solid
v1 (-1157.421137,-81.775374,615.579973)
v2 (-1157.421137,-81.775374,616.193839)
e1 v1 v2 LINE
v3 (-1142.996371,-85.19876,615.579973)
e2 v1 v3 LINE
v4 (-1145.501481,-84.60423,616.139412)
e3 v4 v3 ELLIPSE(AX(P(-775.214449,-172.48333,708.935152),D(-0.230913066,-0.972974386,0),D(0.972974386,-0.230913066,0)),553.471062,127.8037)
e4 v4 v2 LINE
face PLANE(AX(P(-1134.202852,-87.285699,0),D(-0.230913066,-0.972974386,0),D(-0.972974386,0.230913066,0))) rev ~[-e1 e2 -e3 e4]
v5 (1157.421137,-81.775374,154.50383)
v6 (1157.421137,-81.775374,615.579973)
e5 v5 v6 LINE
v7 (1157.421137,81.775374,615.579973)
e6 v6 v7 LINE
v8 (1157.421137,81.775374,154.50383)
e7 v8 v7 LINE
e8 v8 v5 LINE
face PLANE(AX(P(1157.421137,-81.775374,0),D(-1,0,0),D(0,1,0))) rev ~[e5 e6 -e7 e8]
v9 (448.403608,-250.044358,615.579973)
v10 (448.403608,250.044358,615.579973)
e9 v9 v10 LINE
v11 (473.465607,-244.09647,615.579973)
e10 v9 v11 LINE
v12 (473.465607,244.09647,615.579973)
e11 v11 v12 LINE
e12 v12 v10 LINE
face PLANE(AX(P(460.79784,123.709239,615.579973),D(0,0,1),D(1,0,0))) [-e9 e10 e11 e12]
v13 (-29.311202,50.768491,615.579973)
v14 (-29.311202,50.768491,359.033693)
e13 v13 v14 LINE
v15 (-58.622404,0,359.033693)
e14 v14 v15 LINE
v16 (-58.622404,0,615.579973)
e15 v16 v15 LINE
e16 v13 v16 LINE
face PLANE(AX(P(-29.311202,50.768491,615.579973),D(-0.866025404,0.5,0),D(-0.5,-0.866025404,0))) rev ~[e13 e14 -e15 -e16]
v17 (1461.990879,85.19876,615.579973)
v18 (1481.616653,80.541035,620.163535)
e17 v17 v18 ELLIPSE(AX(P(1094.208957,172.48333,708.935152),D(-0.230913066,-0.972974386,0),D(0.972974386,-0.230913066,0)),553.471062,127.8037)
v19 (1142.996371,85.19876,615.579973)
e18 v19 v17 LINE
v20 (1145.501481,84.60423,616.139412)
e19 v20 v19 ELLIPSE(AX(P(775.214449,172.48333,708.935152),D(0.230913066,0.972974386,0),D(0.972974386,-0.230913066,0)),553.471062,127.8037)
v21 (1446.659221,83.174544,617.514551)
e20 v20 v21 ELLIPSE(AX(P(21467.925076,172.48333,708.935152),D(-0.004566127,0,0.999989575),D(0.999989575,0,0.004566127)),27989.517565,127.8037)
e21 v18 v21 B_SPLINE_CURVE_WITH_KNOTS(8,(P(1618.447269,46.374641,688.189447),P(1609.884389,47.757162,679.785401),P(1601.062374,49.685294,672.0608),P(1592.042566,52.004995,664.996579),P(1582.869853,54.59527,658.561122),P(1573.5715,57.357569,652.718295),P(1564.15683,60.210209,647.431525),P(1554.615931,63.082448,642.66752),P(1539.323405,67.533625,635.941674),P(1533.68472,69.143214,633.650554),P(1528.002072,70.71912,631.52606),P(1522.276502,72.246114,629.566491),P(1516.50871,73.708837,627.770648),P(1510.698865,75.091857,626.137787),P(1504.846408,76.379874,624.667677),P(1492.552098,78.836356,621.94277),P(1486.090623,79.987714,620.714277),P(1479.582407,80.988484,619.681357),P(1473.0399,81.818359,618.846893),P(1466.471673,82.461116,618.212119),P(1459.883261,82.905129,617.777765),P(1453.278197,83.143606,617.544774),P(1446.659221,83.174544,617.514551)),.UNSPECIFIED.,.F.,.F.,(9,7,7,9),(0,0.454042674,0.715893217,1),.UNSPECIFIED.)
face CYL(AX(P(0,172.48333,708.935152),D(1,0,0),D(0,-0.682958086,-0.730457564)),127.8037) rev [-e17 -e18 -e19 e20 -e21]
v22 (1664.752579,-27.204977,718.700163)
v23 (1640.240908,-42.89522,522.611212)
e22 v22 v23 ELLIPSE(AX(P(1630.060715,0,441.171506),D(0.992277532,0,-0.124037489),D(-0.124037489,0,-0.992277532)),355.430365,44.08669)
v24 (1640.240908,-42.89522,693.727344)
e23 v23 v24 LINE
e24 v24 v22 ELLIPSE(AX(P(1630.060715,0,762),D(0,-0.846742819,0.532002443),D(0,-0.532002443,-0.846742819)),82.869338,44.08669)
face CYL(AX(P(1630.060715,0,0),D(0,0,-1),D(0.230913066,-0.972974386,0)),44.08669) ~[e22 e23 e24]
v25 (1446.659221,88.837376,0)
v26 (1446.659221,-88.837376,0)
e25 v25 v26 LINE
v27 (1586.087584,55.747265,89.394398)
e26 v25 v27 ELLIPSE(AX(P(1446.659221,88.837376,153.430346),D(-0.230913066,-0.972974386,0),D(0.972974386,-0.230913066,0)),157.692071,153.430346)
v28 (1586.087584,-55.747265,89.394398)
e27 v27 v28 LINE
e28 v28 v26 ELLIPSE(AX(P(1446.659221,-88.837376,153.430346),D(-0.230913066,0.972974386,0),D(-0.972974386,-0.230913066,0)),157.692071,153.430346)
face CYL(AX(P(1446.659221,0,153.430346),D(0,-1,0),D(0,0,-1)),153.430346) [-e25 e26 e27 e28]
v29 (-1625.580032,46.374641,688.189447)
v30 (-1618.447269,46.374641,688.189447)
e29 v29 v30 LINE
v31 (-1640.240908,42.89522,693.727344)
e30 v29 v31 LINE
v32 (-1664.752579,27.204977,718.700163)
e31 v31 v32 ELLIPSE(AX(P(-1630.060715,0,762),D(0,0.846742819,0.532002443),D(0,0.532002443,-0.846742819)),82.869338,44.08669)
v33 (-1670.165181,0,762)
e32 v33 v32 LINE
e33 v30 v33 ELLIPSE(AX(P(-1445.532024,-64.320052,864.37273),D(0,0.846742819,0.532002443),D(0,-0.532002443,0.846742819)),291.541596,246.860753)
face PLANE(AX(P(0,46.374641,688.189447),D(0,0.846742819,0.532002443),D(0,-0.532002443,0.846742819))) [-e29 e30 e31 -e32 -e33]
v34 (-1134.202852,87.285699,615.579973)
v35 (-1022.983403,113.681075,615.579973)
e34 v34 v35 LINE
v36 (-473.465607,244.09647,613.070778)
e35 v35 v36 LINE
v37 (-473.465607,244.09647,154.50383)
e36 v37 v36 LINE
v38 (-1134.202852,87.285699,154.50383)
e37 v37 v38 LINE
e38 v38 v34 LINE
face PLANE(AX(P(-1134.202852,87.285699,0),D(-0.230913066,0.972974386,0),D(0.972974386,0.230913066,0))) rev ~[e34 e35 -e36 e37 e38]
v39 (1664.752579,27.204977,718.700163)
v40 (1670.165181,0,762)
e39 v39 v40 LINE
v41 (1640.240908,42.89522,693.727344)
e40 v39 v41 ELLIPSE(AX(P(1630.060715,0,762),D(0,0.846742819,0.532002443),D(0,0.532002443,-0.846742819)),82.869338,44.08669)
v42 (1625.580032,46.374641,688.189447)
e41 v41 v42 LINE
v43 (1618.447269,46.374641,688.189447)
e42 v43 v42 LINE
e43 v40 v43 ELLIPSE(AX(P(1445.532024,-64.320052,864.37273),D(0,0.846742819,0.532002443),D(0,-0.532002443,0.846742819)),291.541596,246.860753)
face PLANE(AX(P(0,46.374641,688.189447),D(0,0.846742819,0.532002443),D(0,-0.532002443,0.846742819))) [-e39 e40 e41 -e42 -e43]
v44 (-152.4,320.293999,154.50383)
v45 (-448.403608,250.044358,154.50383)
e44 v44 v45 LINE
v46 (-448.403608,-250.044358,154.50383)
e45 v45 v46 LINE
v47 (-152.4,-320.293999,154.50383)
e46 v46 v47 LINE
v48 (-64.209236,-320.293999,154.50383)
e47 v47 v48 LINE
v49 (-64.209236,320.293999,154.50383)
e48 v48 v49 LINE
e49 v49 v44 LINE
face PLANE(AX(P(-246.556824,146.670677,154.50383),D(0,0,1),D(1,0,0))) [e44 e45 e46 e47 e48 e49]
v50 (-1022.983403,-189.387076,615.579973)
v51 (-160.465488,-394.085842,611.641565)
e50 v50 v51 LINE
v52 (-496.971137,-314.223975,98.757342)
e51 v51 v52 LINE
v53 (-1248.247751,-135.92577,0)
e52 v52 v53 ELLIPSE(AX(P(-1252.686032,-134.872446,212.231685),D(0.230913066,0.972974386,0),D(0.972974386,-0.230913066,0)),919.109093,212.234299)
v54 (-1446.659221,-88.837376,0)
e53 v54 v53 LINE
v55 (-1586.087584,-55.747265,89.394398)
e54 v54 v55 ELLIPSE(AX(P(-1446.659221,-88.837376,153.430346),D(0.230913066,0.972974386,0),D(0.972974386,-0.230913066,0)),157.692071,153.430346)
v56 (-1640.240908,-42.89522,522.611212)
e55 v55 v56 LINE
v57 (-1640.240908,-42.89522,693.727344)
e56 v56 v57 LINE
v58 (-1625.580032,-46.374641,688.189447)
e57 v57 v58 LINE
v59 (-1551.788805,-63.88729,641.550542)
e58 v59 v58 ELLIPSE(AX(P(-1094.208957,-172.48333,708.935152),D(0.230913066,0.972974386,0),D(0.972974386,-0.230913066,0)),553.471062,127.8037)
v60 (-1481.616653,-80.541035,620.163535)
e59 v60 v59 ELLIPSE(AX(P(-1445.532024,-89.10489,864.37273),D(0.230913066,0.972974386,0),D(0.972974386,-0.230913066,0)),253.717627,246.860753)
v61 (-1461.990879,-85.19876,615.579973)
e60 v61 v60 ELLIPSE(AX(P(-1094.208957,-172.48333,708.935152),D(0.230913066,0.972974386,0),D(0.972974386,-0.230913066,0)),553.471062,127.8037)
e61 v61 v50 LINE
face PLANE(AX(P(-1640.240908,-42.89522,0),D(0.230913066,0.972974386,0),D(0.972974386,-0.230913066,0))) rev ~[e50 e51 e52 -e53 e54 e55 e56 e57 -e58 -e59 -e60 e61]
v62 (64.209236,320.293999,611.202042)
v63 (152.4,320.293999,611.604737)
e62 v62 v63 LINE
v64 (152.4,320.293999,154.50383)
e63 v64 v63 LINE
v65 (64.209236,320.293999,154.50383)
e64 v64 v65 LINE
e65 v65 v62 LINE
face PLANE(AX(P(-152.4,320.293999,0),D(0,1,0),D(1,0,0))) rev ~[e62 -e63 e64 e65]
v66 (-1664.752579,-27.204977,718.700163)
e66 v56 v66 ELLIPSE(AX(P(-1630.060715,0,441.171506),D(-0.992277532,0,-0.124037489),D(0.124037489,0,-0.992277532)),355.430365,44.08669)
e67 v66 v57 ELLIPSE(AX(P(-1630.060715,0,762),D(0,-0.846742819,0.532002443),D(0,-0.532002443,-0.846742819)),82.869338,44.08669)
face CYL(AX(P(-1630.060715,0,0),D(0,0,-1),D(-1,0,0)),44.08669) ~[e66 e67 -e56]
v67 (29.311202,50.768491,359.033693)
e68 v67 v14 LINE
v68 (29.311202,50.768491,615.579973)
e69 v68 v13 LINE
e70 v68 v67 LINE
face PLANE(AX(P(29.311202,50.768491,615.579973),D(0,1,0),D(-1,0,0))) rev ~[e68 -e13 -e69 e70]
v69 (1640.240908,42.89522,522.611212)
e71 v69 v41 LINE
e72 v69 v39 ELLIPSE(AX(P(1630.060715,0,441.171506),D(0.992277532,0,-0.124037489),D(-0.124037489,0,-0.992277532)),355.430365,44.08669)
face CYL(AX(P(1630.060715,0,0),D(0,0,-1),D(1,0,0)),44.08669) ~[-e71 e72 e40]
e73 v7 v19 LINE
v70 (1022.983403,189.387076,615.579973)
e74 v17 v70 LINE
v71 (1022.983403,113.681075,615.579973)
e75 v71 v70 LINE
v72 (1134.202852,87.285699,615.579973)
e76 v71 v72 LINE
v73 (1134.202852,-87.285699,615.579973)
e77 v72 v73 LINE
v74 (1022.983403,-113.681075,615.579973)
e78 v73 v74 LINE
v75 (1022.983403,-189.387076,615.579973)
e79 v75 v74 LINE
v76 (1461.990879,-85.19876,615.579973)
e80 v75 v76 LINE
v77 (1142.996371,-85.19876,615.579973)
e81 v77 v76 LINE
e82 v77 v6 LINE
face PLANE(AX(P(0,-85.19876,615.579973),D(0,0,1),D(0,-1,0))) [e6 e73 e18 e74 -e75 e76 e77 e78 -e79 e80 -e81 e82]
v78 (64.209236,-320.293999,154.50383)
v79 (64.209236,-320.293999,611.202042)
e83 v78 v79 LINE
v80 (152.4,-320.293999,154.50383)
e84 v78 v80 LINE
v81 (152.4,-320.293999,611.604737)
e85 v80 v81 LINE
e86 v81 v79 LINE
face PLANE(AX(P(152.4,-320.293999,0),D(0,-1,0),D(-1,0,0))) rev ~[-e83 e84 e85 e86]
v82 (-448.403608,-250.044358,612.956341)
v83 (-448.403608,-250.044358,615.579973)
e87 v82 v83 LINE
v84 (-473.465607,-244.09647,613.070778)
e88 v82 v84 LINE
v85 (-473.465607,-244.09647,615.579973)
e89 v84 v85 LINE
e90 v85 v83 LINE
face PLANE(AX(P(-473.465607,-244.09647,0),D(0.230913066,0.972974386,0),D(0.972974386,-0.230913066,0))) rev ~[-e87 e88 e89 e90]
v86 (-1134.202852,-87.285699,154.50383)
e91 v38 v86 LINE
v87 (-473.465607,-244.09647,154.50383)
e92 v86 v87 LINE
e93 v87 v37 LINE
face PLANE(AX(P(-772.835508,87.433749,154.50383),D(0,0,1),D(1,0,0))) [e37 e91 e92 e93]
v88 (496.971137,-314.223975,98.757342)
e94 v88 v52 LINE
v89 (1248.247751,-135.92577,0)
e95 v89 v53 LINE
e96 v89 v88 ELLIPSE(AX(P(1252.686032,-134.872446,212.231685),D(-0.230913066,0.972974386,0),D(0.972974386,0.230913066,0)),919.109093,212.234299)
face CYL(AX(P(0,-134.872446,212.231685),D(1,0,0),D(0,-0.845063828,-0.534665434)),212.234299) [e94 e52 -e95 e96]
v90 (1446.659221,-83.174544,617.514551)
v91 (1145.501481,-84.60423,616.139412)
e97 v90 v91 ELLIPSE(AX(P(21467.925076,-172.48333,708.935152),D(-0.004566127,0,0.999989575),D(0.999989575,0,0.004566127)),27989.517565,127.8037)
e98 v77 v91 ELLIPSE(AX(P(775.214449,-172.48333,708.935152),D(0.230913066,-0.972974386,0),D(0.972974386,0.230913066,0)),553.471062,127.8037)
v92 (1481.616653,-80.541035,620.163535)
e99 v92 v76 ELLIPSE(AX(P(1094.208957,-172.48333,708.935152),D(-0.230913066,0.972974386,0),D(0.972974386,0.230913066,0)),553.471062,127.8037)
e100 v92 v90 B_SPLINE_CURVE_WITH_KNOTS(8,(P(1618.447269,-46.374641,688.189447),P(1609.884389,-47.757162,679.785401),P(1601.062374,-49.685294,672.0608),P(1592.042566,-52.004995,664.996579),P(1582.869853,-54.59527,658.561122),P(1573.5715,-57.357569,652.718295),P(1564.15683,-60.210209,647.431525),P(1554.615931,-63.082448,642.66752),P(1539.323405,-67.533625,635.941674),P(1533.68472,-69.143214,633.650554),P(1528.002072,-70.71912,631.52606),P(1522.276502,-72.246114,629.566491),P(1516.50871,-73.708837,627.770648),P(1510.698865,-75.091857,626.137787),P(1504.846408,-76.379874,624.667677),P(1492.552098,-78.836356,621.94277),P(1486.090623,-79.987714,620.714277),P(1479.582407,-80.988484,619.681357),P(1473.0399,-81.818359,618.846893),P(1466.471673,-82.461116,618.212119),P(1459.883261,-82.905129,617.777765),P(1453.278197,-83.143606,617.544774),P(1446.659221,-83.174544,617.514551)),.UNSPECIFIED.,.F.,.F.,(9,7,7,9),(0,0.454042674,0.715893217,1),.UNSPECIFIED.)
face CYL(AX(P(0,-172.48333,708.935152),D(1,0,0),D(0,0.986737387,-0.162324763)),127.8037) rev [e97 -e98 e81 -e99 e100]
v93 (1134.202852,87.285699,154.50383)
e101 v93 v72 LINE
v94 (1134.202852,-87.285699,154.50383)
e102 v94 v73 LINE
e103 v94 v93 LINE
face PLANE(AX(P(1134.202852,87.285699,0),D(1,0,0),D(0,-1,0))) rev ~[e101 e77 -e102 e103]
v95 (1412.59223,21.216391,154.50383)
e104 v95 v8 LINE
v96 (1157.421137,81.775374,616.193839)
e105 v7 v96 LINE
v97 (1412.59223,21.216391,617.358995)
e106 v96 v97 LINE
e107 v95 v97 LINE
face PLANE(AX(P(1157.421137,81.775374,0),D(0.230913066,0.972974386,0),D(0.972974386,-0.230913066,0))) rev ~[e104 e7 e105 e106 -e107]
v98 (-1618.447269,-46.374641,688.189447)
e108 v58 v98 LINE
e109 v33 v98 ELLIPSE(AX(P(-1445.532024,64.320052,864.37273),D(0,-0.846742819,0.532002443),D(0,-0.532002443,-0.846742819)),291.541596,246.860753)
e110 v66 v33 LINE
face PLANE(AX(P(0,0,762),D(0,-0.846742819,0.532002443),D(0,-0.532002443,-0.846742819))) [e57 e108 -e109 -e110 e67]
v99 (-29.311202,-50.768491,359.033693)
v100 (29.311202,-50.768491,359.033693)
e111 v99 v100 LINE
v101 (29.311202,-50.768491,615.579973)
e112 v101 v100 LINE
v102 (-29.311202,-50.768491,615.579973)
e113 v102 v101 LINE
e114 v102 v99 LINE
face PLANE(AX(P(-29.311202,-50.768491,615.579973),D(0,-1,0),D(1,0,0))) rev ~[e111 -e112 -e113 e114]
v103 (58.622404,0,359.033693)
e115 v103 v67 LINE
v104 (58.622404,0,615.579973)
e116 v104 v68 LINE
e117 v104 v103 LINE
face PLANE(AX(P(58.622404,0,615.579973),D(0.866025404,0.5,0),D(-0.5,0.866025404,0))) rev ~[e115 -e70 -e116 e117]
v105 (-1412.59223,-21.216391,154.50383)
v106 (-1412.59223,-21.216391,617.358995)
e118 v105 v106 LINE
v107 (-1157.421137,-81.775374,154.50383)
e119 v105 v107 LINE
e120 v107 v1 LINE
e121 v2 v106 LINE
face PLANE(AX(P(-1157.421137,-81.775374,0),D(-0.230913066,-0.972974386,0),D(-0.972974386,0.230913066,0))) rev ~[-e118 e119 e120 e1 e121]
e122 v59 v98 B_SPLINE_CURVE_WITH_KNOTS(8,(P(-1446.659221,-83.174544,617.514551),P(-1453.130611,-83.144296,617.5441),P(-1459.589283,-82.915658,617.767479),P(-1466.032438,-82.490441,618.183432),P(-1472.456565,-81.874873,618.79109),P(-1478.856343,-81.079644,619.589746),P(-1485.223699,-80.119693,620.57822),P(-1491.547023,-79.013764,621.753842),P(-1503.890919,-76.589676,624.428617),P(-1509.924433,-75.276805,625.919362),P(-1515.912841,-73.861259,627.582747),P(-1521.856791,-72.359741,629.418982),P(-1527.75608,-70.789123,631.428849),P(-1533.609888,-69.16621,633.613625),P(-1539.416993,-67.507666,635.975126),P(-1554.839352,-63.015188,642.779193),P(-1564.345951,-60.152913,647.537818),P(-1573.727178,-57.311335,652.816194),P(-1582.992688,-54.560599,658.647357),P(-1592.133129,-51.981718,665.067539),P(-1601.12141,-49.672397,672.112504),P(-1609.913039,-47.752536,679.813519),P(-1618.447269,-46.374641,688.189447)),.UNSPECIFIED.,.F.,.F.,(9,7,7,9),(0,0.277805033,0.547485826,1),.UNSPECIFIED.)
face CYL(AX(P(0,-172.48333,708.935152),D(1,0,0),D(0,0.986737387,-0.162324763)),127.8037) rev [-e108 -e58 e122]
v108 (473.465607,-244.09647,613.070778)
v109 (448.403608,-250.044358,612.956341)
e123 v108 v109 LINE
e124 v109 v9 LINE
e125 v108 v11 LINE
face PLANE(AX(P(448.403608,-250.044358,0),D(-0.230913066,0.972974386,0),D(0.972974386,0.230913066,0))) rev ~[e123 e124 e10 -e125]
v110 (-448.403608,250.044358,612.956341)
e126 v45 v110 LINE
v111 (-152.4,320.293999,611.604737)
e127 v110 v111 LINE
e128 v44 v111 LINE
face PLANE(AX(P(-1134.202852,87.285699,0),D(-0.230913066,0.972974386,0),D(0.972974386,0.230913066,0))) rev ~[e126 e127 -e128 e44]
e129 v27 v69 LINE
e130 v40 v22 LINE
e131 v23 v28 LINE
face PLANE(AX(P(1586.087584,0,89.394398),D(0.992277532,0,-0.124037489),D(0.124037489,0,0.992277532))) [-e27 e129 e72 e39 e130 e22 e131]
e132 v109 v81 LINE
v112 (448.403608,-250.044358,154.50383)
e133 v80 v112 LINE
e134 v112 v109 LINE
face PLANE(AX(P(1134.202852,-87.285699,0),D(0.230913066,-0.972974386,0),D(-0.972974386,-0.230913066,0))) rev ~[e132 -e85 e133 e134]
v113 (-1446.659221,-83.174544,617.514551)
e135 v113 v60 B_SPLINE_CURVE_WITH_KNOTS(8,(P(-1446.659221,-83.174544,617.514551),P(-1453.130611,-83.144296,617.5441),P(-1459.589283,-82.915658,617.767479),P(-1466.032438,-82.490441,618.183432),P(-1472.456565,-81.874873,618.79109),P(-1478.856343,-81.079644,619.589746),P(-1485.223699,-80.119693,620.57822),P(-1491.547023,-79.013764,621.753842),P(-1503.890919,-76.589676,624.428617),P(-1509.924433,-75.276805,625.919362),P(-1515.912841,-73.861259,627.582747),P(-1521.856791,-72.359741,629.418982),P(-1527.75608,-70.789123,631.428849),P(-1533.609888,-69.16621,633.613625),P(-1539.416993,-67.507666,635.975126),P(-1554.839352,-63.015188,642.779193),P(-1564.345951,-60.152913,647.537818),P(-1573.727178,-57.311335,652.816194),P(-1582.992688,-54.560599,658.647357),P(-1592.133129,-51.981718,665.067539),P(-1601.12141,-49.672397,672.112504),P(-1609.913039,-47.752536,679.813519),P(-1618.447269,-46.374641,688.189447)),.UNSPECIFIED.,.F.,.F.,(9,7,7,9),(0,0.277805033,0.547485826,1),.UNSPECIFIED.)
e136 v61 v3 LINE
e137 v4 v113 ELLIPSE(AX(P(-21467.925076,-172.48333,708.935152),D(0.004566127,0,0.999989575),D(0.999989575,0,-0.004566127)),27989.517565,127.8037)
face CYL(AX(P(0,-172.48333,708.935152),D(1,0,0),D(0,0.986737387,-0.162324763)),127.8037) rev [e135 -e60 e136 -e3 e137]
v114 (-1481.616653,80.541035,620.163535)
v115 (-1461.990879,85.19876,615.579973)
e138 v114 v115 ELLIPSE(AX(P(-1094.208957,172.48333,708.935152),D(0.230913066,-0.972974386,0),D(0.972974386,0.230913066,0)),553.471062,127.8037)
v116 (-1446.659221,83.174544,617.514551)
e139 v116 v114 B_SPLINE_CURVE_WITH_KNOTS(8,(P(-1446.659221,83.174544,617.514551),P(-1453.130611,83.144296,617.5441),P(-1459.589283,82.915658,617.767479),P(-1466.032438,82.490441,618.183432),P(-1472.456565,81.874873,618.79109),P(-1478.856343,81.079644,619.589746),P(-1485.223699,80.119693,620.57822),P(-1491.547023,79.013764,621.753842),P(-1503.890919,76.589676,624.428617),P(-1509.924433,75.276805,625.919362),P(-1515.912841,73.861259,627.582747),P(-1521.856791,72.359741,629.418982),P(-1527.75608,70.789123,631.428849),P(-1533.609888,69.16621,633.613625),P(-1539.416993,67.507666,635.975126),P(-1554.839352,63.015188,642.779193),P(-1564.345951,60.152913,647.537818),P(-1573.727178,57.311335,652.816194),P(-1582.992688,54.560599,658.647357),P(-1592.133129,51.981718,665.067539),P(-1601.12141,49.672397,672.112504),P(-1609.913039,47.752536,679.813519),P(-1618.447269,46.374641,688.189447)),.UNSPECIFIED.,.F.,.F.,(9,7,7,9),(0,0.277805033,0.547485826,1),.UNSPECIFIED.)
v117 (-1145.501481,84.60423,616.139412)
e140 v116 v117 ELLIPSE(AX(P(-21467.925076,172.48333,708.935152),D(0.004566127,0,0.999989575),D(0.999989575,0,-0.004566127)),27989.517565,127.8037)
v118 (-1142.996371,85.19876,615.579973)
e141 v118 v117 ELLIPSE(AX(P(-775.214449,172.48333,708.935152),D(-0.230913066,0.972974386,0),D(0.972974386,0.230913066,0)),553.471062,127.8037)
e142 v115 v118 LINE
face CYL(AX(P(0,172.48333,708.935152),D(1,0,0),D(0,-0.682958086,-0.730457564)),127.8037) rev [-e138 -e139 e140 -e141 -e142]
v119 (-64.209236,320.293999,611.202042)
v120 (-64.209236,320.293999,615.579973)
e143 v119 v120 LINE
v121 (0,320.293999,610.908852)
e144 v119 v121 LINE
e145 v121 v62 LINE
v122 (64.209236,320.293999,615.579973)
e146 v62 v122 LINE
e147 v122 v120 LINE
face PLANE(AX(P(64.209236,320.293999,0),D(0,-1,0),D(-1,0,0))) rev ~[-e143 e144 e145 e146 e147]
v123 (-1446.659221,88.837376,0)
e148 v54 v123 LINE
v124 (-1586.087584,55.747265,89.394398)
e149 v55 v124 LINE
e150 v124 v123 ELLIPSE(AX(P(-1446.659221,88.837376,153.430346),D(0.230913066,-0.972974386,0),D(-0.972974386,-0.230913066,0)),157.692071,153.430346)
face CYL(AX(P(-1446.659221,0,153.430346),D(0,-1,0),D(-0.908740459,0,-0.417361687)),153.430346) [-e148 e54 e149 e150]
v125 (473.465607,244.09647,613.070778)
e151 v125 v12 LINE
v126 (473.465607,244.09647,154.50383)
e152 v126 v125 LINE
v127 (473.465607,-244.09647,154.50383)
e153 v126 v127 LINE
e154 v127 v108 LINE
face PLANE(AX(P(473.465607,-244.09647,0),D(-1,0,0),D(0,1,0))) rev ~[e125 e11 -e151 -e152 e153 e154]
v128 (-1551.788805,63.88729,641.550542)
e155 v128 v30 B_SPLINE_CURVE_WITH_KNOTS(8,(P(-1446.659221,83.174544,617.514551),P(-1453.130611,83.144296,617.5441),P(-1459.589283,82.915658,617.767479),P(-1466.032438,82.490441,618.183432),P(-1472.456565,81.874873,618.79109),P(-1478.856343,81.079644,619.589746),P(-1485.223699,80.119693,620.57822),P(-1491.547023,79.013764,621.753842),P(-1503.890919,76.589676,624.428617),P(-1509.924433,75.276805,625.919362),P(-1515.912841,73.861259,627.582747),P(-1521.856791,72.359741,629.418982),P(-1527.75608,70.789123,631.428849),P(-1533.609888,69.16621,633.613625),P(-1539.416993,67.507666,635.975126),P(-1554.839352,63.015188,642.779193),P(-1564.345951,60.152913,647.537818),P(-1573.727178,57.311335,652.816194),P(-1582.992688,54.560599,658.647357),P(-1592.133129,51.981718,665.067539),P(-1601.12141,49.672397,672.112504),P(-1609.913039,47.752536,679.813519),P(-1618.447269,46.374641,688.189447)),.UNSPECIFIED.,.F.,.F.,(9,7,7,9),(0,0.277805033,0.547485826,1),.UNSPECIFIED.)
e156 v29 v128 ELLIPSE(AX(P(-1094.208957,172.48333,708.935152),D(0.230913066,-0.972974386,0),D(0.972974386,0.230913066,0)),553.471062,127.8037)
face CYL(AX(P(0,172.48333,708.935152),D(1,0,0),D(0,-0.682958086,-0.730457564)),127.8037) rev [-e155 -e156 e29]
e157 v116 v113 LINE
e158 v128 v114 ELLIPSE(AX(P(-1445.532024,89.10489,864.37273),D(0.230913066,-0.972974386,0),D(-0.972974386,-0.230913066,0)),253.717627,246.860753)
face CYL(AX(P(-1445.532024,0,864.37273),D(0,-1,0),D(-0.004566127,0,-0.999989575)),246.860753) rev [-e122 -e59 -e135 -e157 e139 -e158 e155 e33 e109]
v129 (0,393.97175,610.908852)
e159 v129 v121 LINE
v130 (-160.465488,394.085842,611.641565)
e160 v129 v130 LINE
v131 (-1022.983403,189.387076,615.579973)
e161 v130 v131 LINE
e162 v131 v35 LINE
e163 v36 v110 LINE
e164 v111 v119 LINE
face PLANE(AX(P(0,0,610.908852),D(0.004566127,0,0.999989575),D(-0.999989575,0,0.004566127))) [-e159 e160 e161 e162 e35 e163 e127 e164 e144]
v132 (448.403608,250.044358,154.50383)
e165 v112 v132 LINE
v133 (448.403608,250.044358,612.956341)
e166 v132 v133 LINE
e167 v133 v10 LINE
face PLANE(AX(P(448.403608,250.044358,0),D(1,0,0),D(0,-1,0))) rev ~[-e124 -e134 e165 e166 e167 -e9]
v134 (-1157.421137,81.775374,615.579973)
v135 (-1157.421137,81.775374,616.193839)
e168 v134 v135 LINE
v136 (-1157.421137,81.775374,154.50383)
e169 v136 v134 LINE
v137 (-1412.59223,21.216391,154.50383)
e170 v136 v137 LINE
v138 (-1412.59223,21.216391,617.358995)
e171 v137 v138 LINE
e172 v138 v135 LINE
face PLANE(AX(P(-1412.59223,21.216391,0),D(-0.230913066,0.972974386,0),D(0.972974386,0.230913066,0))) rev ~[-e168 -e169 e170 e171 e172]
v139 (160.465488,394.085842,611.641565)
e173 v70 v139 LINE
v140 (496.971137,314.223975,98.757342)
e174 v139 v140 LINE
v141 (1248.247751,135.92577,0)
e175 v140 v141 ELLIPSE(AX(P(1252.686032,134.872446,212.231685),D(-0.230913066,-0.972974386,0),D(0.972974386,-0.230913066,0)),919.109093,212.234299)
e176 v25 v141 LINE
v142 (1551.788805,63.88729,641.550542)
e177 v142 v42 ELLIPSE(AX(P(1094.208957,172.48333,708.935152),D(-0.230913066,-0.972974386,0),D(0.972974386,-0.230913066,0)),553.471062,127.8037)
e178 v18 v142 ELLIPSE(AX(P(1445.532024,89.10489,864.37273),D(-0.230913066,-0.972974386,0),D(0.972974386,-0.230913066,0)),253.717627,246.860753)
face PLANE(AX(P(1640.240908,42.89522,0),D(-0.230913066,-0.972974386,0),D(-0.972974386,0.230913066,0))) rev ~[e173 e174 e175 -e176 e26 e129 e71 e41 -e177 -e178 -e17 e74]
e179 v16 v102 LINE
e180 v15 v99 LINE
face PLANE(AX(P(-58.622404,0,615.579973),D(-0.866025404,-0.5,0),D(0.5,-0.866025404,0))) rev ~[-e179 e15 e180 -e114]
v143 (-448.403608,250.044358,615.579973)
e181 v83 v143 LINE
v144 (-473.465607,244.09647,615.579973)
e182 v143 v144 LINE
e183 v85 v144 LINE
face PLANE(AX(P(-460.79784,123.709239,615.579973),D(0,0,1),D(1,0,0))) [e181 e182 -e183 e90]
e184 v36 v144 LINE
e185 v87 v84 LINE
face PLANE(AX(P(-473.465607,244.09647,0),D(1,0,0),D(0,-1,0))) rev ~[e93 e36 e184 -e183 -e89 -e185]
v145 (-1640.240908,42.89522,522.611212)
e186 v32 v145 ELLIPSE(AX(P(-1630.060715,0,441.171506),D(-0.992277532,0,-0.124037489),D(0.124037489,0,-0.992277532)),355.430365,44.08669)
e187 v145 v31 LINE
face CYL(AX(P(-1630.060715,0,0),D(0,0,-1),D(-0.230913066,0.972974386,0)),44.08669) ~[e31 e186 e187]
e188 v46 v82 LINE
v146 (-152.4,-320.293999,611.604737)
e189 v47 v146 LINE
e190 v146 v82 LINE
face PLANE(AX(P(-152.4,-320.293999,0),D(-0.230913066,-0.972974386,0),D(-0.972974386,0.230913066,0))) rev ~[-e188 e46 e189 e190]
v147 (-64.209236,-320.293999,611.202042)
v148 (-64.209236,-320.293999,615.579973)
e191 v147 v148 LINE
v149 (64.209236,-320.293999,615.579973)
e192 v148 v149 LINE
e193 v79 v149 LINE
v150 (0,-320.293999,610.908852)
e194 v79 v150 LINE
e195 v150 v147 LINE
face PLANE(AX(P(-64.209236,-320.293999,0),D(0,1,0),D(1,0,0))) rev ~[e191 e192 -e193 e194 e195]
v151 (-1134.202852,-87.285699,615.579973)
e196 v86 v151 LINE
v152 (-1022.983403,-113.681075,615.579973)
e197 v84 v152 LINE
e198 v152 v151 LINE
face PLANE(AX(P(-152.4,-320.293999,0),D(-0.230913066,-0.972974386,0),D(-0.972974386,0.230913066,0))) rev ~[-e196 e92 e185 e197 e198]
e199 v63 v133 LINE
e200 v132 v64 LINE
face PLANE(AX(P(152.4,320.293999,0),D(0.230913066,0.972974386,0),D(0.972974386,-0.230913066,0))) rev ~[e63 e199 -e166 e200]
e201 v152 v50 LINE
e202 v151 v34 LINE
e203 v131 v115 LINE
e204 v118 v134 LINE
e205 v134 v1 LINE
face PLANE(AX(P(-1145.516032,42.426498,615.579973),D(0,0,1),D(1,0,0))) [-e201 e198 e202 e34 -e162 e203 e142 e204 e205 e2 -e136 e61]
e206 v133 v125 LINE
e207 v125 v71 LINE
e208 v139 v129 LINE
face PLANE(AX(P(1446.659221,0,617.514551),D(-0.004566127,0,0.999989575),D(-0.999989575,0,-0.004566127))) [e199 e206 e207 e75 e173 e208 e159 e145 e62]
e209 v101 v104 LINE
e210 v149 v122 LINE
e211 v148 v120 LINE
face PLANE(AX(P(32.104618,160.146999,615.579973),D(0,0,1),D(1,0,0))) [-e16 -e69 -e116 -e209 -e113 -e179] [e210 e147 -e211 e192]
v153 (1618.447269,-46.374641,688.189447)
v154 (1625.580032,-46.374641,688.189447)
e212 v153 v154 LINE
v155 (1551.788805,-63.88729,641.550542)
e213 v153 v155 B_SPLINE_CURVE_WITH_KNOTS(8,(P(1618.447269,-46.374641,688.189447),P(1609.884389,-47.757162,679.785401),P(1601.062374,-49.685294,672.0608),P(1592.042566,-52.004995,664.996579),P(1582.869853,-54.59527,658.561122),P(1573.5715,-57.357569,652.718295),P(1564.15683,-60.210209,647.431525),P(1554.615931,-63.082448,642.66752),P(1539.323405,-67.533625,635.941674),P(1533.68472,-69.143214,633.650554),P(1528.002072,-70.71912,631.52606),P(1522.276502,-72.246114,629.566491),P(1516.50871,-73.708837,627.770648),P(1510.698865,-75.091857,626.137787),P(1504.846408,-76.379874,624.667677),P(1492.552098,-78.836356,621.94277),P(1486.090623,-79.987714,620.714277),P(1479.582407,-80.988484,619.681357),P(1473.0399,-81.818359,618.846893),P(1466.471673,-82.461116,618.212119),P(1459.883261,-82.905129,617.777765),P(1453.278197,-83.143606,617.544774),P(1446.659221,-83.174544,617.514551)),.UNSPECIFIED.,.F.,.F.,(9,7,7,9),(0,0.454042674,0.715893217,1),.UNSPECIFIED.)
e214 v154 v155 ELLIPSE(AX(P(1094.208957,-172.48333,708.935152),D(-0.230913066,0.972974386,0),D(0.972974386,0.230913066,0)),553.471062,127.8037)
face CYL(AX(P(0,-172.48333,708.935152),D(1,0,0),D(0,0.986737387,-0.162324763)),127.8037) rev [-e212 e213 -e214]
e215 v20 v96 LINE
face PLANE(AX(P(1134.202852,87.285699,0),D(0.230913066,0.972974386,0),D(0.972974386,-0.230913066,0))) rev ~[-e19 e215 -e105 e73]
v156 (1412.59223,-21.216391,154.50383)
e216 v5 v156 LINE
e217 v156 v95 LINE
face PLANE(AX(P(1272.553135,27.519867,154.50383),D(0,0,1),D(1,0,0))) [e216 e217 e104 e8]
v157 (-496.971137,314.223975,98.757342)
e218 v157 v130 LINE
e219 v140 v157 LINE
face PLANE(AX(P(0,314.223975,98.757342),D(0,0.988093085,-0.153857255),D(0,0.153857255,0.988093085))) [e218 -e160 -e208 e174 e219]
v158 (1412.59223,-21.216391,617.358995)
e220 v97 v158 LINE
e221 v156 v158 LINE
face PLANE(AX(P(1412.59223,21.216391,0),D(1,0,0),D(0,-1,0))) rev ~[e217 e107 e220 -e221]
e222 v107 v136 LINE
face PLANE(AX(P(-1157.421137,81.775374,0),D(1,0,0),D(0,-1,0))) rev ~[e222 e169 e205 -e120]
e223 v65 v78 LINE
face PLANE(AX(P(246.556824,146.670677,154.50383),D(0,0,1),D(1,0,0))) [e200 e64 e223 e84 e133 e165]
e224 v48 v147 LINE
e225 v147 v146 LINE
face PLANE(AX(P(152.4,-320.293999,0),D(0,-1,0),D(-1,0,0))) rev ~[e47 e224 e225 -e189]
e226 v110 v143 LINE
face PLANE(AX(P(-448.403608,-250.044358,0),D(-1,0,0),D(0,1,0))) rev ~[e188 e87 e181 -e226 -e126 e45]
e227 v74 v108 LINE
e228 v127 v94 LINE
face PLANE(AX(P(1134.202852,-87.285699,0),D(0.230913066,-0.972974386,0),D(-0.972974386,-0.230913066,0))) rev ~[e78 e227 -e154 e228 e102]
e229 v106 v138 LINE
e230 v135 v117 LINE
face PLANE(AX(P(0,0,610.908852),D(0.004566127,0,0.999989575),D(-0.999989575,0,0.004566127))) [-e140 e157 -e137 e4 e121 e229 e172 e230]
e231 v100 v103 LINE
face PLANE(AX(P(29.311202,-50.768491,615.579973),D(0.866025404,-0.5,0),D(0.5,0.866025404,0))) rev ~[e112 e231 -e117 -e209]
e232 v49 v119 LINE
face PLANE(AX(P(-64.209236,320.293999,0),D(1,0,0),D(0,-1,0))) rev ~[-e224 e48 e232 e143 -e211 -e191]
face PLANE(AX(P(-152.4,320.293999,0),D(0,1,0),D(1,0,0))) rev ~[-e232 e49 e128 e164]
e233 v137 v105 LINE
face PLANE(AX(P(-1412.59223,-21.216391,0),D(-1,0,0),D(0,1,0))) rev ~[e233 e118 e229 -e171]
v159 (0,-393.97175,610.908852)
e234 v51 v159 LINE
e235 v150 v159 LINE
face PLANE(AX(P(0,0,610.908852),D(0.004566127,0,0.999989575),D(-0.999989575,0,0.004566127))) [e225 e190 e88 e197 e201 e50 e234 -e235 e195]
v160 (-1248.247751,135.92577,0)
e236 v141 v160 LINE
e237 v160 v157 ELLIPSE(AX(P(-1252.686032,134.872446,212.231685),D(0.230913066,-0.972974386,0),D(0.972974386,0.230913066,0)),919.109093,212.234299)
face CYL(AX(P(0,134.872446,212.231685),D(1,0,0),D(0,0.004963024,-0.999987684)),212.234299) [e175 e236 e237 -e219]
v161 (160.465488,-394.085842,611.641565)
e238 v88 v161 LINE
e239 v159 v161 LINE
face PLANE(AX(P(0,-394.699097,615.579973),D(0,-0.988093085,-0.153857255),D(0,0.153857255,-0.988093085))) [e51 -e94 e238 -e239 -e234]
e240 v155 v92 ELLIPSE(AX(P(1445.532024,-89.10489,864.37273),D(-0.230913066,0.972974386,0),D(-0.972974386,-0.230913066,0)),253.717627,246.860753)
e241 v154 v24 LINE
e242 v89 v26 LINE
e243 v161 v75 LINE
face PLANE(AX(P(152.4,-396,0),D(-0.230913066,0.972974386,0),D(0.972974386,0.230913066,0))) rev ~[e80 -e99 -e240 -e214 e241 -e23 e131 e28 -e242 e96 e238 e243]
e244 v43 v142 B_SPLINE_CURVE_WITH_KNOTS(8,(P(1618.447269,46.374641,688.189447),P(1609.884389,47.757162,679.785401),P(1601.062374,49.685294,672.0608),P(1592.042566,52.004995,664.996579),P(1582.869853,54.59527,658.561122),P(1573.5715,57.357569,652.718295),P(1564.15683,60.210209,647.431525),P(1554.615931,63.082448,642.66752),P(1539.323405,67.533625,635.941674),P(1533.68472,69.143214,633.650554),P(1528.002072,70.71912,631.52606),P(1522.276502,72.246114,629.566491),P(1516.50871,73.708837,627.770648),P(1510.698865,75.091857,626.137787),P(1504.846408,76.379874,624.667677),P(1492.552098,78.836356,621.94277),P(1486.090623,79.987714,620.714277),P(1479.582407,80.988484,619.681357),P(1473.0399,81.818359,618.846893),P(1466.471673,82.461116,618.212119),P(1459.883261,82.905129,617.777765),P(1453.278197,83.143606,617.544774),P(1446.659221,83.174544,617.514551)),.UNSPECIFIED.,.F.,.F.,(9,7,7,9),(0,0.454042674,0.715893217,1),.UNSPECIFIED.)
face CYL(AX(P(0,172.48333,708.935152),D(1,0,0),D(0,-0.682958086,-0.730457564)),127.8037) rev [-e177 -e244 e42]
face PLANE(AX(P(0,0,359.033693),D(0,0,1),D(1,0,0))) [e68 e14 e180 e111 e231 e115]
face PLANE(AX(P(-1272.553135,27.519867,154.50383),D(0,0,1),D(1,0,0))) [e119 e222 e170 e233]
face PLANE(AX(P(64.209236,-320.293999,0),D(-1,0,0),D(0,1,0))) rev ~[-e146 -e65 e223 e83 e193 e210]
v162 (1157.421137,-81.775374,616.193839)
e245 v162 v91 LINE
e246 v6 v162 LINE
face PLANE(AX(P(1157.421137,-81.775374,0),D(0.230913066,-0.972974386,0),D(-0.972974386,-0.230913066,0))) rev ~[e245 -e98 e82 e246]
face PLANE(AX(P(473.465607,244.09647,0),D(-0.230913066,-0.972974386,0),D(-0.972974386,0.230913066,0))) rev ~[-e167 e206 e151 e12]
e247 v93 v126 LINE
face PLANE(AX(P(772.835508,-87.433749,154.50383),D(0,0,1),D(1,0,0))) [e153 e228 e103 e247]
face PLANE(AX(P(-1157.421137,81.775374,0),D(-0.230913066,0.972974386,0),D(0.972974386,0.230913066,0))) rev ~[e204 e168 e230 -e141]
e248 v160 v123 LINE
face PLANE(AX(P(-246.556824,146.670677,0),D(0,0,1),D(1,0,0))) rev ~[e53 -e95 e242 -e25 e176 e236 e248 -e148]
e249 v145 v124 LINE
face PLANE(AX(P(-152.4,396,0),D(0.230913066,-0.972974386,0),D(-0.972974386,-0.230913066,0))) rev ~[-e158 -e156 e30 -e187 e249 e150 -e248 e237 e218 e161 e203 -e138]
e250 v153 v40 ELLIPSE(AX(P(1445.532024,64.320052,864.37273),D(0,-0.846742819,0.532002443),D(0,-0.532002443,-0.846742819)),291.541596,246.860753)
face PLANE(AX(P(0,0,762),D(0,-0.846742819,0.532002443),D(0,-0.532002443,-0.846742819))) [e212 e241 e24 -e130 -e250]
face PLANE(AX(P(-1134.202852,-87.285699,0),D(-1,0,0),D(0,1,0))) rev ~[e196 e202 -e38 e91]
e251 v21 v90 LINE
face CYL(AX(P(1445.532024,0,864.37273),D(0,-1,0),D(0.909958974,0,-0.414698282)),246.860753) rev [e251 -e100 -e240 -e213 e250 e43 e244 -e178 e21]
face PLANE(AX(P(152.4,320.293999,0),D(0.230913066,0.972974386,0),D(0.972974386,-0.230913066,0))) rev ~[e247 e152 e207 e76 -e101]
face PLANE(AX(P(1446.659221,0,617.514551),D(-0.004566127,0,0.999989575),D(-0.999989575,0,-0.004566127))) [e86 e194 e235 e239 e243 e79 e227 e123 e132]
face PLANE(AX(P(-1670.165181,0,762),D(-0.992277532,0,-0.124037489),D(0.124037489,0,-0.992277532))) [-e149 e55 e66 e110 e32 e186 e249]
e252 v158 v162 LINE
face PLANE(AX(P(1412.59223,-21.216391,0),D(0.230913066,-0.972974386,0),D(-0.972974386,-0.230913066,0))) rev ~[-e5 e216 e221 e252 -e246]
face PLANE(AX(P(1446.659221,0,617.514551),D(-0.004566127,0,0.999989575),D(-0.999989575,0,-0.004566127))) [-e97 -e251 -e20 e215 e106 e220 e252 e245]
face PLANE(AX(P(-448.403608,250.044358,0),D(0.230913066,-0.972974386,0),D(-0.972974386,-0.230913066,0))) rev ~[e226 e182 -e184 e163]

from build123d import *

# Parameters (mm, degrees)
F1_DEPTH  = 762
F3_DEPTH  = 3262.12516
F5_DEPTH  = 5632.86409
F0_W      = 64.2092358321
F0_H      = 320.2939988333
F6_DEPTH  = 615.5799728
F7_DEPTH  = 154.50383
F8_DEPTH  = 5077.3668
F10_DEPTH = 256.54628


with BuildPart() as f1:
    # F0 (on Top) → F1 (new body)
    with BuildSketch(Plane.XY):
        with BuildLine():
            Line((152.4, 396), (0, 396))
            Line((0, 396), (0, 320.2939988333))
            Line((0, 320.2939988333), (64.2092358321, 320.2939988333))
            Line((64.2092358321, 320.2939988333), (152.4, 320.2939988333))
            Line((152.4, 320.2939988333), (448.4036082625, 250.0443583168))
            Line((448.4036082625, 250.0443583168), (473.4656074554, 244.0964698966))
            Line((473.4656074554, 244.0964698966), (1134.202851765, 87.2856993755))
            Line((1134.202851765, 87.2856993755), (1157.4211369828, 81.7753740131))
            Line((1157.4211369828, 81.7753740131), (1412.5922299482, 21.2163907755))
            Line((1412.5922299482, 21.2163907755), (1412.5922299482, 0))
            Line((1412.5922299482, 0), (1674.1474049633, 0))
            ThreePointArc((1674.1474049633, 0), (1664.6471807808, 27.3388481675), (1640.2409076691, 42.8952202201))
            Line((1640.2409076691, 42.8952202201), (152.4, 396))
        make_face()
        with BuildLine():
            Line((0, 320.2939988333), (0, 396))
            Line((0, 396), (-152.4, 396))
            Line((-152.4, 396), (-1640.2409076691, 42.8952202201))
            ThreePointArc((-1640.2409076691, 42.8952202201), (-1664.6471807808, 27.3388481675), (-1674.1474049633, 0))
            Line((-1674.1474049633, 0), (-1412.5922299482, 0))
            Line((-1412.5922299482, 0), (-1412.5922299482, 21.2163907755))
            Line((-1412.5922299482, 21.2163907755), (-1157.4211369828, 81.7753740131))
            Line((-1157.4211369828, 81.7753740131), (-1134.202851765, 87.2856993755))
            Line((-1134.202851765, 87.2856993755), (-473.4656074554, 244.0964698966))
            Line((-473.4656074554, 244.0964698966), (-448.4036082625, 250.0443583168))
            Line((-448.4036082625, 250.0443583168), (-152.4, 320.2939988333))
            Line((-152.4, 320.2939988333), (-64.2092358321, 320.2939988333))
            Line((-64.2092358321, 320.2939988333), (0, 320.2939988333))
        make_face()
        with BuildLine():
            Line((64.2092358321, -320.2939988333), (0, -320.2939988333))
            Line((0, -320.2939988333), (0, -396))
            Line((0, -396), (152.4, -396))
            Line((152.4, -396), (1640.2409076691, -42.8952202201))
            ThreePointArc((1640.2409076691, -42.8952202201), (1664.6471807808, -27.3388481675), (1674.1474049633, 0))
            Line((1674.1474049633, 0), (1412.5922299482, 0))
            Line((1412.5922299482, 0), (1412.5922299482, -21.2163907755))
            Line((1412.5922299482, -21.2163907755), (1157.4211369828, -81.7753740131))
            Line((1157.4211369828, -81.7753740131), (1134.202851765, -87.2856993755))
            Line((1134.202851765, -87.2856993755), (473.4656074554, -244.0964698966))
            Line((473.4656074554, -244.0964698966), (448.4036082625, -250.0443583168))
            Line((448.4036082625, -250.0443583168), (152.4, -320.2939988333))
            Line((152.4, -320.2939988333), (64.2092358321, -320.2939988333))
        make_face()
        with BuildLine():
            Line((0, -396), (0, -320.2939988333))
            Line((0, -320.2939988333), (-64.2092358321, -320.2939988333))
            Line((-64.2092358321, -320.2939988333), (-152.4, -320.2939988333))
            Line((-152.4, -320.2939988333), (-448.4036082625, -250.0443583168))
            Line((-448.4036082625, -250.0443583168), (-473.4656074554, -244.0964698966))
            Line((-473.4656074554, -244.0964698966), (-1134.202851765, -87.2856993755))
            Line((-1134.202851765, -87.2856993755), (-1157.4211369828, -81.7753740131))
            Line((-1157.4211369828, -81.7753740131), (-1412.5922299482, -21.2163907755))
            Line((-1412.5922299482, -21.2163907755), (-1412.5922299482, 0))
            Line((-1412.5922299482, 0), (-1674.1474049633, 0))
            ThreePointArc((-1674.1474049633, 0), (-1664.6471807808, -27.3388481675), (-1640.2409076691, -42.8952202201))
            Line((-1640.2409076691, -42.8952202201), (-152.4, -396))
            Line((-152.4, -396), (0, -396))
        make_face()
    extrude(amount=F1_DEPTH)

    # F2 (on Front) → F3 (intersect, symmetric)
    with BuildSketch(Plane.XZ):
        Polygon((-1446.6592213701, 617.5145506859), (-1446.6592213701, 0), (0, 0), (1446.6592213701, 0), (1446.6592213701, 617.5145506859), (0, 610.9088516681), align=None)
        with BuildLine():
            ThreePointArc((-1586.0875844955, 89.3943980336), (-1529.4717005681, 24.2677958419), (-1446.6592213701, 0))
            Line((-1446.6592213701, 0), (-1446.6592213701, 617.5145506859))
            ThreePointArc((-1446.6592213701, 617.5145506859), (-1579.5504767394, 657.0582695217), (-1670.16518116, 762))
            Line((-1670.16518116, 762), (-1586.0875844955, 89.3943980336))
        make_face()
        with BuildLine():
            Line((1446.6592213701, 617.5145506859), (1446.6592213701, 0))
            ThreePointArc((1446.6592213701, 0), (1529.4717005681, 24.2677958419), (1586.0875844955, 89.3943980336))
            Line((1586.0875844955, 89.3943980336), (1670.16518116, 762))
            ThreePointArc((1670.16518116, 762), (1579.5504767394, 657.0582695217), (1446.6592213701, 617.5145506859))
        make_face()
    extrude(amount=F3_DEPTH, both=True, mode=Mode.INTERSECT)

    # F4 (on Right) → F5 (intersect, symmetric)
    with BuildSketch(Plane.YZ):
        with BuildLine():
            Line((314.2239749432, 98.7573415041), (394.6990966797, 615.5799728))
            Line((394.6990966797, 615.5799728), (85.1987600327, 615.5799728))
            ThreePointArc((85.1987600327, 615.5799728), (59.7792722532, 648.6725517035), (46.3746413589, 688.1894469261))
            Line((46.3746413589, 688.1894469261), (0, 762))
            Line((0, 762), (0, 0))
            Line((0, 0), (135.9257698059, 0))
            ThreePointArc((135.9257698059, 0), (237.7059563227, 26.5742942613), (314.2239749432, 98.7573415041))
        make_face()
        with BuildLine():
            Line((0, 0), (0, 762))
            Line((0, 762), (-46.3746413589, 688.1894469261))
            ThreePointArc((-46.3746413589, 688.1894469261), (-59.7792722532, 648.6725517035), (-85.1987600327, 615.5799728))
            Line((-85.1987600327, 615.5799728), (-394.6990966797, 615.5799728))
            Line((-394.6990966797, 615.5799728), (-314.2239749432, 98.7573415041))
            ThreePointArc((-314.2239749432, 98.7573415041), (-237.7059563227, 26.5742942613), (-135.9257698059, 0))
            Line((-135.9257698059, 0), (0, 0))
        make_face()
    extrude(amount=F5_DEPTH, both=True, mode=Mode.INTERSECT)

    # F0 (on Top) → F6 (join)
    with BuildSketch(Plane.XY):
        Polygon((-1157.4211369828, 81.7753740131), (-1157.4211369828, 0), (-1134.202851765, 0), (-1134.202851765, 87.2856993755), align=None)
        Polygon((-1134.202851765, 0), (-1157.4211369828, 0), (-1157.4211369828, -81.7753740131), (-1134.202851765, -87.2856993755), align=None)
        Polygon((-473.4656074554, 0), (-448.4036082625, 0), (-448.4036082625, 250.0443583168), (-473.4656074554, 244.0964698966), align=None)
        Polygon((-448.4036082625, -250.0443583168), (-448.4036082625, 0), (-473.4656074554, 0), (-473.4656074554, -244.0964698966), align=None)
        with Locations((32.104617916, 160.1469994167)):
            Rectangle(F0_W, F0_H)
        with Locations((32.104617916, -160.1469994167)):
            Rectangle(F0_W, F0_H)
        with Locations((-32.104617916, -160.1469994167)):
            Rectangle(F0_W, F0_H)
        with Locations((-32.104617916, 160.1469994167)):
            Rectangle(F0_W, F0_H)
        Polygon((448.4036082625, 250.0443583168), (448.4036082625, 0), (473.4656074554, 0), (473.4656074554, 244.0964698965), align=None)
        Polygon((473.4656074554, 0), (448.4036082625, 0), (448.4036082625, -250.0443583168), (473.4656074554, -244.0964698966), align=None)
        Polygon((1134.202851765, 0), (1157.4211369828, 0), (1157.4211369828, 81.7753740131), (1134.202851765, 87.2856993755), align=None)
        Polygon((1157.4211369828, -81.7753740131), (1157.4211369828, 0), (1134.202851765, 0), (1134.202851765, -87.2856993755), align=None)
    extrude(amount=F6_DEPTH)

    # F0 (on Top) → F7 (join)
    with BuildSketch(Plane.XY):
        Polygon((-64.2092358321, 0), (-64.2092358321, 320.2939988333), (-152.4, 320.2939988333), (-448.4036082625, 250.0443583168), (-448.4036082625, 0), align=None)
        Polygon((-1134.202851765, 0), (-473.4656074554, 0), (-473.4656074554, 244.0964698965), (-1134.202851765, 87.2856993755), align=None)
        Polygon((-1412.5922299482, 21.2163907755), (-1412.5922299482, 0), (-1157.4211369828, 0), (-1157.4211369828, 81.7753740131), align=None)
        Polygon((-1157.4211369828, 0), (-1412.5922299482, 0), (-1412.5922299482, -21.2163907755), (-1157.4211369828, -81.7753740131), align=None)
        Polygon((-473.4656074554, -244.0964698966), (-473.4656074554, 0), (-1134.202851765, 0), (-1134.202851765, -87.2856993755), align=None)
        Polygon((-64.2092358321, -320.2939988333), (-64.2092358321, 0), (-448.4036082625, 0), (-448.4036082625, -250.0443583168), (-152.4, -320.2939988333), align=None)
        Polygon((152.4, 320.2939988333), (64.2092358321, 320.2939988333), (64.2092358321, 0), (448.4036082625, 0), (448.4036082625, 250.0443583168), align=None)
        Polygon((448.4036082625, 0), (64.2092358321, 0), (64.2092358321, -320.2939988333), (152.4, -320.2939988333), (448.4036082625, -250.0443583168), align=None)
        Polygon((1134.202851765, 0), (473.4656074554, 0), (473.4656074554, -244.0964698965), (1134.202851765, -87.2856993755), align=None)
        Polygon((473.4656074554, 244.0964698965), (473.4656074554, 0), (1134.202851765, 0), (1134.202851765, 87.2856993755), align=None)
        Polygon((1157.4211369828, 0), (1412.5922299482, 0), (1412.5922299482, 21.2163907755), (1157.4211369828, 81.7753740131), align=None)
        Polygon((1412.5922299482, -21.2163907755), (1412.5922299482, 0), (1157.4211369828, 0), (1157.4211369828, -81.7753740131), align=None)
    extrude(amount=F7_DEPTH)

    # F4 (on Right) → F8 (intersect, symmetric)
    with BuildSketch(Plane.YZ):
        with BuildLine():
            Line((314.2239749432, 98.7573415041), (394.6990966797, 615.5799728))
            Line((394.6990966797, 615.5799728), (85.1987600327, 615.5799728))
            ThreePointArc((85.1987600327, 615.5799728), (59.7792722532, 648.6725517035), (46.3746413589, 688.1894469261))
            Line((46.3746413589, 688.1894469261), (0, 762))
            Line((0, 762), (0, 0))
            Line((0, 0), (135.9257698059, 0))
            ThreePointArc((135.9257698059, 0), (237.7059563227, 26.5742942613), (314.2239749432, 98.7573415041))
        make_face()
        with BuildLine():
            Line((0, 0), (0, 762))
            Line((0, 762), (-46.3746413589, 688.1894469261))
            ThreePointArc((-46.3746413589, 688.1894469261), (-59.7792722532, 648.6725517035), (-85.1987600327, 615.5799728))
            Line((-85.1987600327, 615.5799728), (-394.6990966797, 615.5799728))
            Line((-394.6990966797, 615.5799728), (-314.2239749432, 98.7573415041))
            ThreePointArc((-314.2239749432, 98.7573415041), (-237.7059563227, 26.5742942613), (-135.9257698059, 0))
            Line((-135.9257698059, 0), (0, 0))
        make_face()
    extrude(amount=F8_DEPTH, both=True, mode=Mode.INTERSECT)

    # F9 (on face) → F10 (cut)
    with BuildSketch(Plane.XY.offset(615.5799728)):
        Polygon((-29.3112018763, -50.7684908807), (29.3112018763, -50.7684908807), (58.6224037527, 0), (29.3112018763, 50.7684908807), (-29.3112018763, 50.7684908807), (-58.6224037527, 0), align=None)
    extrude(amount=-F10_DEPTH, mode=Mode.SUBTRACT)


solid = f1.part
